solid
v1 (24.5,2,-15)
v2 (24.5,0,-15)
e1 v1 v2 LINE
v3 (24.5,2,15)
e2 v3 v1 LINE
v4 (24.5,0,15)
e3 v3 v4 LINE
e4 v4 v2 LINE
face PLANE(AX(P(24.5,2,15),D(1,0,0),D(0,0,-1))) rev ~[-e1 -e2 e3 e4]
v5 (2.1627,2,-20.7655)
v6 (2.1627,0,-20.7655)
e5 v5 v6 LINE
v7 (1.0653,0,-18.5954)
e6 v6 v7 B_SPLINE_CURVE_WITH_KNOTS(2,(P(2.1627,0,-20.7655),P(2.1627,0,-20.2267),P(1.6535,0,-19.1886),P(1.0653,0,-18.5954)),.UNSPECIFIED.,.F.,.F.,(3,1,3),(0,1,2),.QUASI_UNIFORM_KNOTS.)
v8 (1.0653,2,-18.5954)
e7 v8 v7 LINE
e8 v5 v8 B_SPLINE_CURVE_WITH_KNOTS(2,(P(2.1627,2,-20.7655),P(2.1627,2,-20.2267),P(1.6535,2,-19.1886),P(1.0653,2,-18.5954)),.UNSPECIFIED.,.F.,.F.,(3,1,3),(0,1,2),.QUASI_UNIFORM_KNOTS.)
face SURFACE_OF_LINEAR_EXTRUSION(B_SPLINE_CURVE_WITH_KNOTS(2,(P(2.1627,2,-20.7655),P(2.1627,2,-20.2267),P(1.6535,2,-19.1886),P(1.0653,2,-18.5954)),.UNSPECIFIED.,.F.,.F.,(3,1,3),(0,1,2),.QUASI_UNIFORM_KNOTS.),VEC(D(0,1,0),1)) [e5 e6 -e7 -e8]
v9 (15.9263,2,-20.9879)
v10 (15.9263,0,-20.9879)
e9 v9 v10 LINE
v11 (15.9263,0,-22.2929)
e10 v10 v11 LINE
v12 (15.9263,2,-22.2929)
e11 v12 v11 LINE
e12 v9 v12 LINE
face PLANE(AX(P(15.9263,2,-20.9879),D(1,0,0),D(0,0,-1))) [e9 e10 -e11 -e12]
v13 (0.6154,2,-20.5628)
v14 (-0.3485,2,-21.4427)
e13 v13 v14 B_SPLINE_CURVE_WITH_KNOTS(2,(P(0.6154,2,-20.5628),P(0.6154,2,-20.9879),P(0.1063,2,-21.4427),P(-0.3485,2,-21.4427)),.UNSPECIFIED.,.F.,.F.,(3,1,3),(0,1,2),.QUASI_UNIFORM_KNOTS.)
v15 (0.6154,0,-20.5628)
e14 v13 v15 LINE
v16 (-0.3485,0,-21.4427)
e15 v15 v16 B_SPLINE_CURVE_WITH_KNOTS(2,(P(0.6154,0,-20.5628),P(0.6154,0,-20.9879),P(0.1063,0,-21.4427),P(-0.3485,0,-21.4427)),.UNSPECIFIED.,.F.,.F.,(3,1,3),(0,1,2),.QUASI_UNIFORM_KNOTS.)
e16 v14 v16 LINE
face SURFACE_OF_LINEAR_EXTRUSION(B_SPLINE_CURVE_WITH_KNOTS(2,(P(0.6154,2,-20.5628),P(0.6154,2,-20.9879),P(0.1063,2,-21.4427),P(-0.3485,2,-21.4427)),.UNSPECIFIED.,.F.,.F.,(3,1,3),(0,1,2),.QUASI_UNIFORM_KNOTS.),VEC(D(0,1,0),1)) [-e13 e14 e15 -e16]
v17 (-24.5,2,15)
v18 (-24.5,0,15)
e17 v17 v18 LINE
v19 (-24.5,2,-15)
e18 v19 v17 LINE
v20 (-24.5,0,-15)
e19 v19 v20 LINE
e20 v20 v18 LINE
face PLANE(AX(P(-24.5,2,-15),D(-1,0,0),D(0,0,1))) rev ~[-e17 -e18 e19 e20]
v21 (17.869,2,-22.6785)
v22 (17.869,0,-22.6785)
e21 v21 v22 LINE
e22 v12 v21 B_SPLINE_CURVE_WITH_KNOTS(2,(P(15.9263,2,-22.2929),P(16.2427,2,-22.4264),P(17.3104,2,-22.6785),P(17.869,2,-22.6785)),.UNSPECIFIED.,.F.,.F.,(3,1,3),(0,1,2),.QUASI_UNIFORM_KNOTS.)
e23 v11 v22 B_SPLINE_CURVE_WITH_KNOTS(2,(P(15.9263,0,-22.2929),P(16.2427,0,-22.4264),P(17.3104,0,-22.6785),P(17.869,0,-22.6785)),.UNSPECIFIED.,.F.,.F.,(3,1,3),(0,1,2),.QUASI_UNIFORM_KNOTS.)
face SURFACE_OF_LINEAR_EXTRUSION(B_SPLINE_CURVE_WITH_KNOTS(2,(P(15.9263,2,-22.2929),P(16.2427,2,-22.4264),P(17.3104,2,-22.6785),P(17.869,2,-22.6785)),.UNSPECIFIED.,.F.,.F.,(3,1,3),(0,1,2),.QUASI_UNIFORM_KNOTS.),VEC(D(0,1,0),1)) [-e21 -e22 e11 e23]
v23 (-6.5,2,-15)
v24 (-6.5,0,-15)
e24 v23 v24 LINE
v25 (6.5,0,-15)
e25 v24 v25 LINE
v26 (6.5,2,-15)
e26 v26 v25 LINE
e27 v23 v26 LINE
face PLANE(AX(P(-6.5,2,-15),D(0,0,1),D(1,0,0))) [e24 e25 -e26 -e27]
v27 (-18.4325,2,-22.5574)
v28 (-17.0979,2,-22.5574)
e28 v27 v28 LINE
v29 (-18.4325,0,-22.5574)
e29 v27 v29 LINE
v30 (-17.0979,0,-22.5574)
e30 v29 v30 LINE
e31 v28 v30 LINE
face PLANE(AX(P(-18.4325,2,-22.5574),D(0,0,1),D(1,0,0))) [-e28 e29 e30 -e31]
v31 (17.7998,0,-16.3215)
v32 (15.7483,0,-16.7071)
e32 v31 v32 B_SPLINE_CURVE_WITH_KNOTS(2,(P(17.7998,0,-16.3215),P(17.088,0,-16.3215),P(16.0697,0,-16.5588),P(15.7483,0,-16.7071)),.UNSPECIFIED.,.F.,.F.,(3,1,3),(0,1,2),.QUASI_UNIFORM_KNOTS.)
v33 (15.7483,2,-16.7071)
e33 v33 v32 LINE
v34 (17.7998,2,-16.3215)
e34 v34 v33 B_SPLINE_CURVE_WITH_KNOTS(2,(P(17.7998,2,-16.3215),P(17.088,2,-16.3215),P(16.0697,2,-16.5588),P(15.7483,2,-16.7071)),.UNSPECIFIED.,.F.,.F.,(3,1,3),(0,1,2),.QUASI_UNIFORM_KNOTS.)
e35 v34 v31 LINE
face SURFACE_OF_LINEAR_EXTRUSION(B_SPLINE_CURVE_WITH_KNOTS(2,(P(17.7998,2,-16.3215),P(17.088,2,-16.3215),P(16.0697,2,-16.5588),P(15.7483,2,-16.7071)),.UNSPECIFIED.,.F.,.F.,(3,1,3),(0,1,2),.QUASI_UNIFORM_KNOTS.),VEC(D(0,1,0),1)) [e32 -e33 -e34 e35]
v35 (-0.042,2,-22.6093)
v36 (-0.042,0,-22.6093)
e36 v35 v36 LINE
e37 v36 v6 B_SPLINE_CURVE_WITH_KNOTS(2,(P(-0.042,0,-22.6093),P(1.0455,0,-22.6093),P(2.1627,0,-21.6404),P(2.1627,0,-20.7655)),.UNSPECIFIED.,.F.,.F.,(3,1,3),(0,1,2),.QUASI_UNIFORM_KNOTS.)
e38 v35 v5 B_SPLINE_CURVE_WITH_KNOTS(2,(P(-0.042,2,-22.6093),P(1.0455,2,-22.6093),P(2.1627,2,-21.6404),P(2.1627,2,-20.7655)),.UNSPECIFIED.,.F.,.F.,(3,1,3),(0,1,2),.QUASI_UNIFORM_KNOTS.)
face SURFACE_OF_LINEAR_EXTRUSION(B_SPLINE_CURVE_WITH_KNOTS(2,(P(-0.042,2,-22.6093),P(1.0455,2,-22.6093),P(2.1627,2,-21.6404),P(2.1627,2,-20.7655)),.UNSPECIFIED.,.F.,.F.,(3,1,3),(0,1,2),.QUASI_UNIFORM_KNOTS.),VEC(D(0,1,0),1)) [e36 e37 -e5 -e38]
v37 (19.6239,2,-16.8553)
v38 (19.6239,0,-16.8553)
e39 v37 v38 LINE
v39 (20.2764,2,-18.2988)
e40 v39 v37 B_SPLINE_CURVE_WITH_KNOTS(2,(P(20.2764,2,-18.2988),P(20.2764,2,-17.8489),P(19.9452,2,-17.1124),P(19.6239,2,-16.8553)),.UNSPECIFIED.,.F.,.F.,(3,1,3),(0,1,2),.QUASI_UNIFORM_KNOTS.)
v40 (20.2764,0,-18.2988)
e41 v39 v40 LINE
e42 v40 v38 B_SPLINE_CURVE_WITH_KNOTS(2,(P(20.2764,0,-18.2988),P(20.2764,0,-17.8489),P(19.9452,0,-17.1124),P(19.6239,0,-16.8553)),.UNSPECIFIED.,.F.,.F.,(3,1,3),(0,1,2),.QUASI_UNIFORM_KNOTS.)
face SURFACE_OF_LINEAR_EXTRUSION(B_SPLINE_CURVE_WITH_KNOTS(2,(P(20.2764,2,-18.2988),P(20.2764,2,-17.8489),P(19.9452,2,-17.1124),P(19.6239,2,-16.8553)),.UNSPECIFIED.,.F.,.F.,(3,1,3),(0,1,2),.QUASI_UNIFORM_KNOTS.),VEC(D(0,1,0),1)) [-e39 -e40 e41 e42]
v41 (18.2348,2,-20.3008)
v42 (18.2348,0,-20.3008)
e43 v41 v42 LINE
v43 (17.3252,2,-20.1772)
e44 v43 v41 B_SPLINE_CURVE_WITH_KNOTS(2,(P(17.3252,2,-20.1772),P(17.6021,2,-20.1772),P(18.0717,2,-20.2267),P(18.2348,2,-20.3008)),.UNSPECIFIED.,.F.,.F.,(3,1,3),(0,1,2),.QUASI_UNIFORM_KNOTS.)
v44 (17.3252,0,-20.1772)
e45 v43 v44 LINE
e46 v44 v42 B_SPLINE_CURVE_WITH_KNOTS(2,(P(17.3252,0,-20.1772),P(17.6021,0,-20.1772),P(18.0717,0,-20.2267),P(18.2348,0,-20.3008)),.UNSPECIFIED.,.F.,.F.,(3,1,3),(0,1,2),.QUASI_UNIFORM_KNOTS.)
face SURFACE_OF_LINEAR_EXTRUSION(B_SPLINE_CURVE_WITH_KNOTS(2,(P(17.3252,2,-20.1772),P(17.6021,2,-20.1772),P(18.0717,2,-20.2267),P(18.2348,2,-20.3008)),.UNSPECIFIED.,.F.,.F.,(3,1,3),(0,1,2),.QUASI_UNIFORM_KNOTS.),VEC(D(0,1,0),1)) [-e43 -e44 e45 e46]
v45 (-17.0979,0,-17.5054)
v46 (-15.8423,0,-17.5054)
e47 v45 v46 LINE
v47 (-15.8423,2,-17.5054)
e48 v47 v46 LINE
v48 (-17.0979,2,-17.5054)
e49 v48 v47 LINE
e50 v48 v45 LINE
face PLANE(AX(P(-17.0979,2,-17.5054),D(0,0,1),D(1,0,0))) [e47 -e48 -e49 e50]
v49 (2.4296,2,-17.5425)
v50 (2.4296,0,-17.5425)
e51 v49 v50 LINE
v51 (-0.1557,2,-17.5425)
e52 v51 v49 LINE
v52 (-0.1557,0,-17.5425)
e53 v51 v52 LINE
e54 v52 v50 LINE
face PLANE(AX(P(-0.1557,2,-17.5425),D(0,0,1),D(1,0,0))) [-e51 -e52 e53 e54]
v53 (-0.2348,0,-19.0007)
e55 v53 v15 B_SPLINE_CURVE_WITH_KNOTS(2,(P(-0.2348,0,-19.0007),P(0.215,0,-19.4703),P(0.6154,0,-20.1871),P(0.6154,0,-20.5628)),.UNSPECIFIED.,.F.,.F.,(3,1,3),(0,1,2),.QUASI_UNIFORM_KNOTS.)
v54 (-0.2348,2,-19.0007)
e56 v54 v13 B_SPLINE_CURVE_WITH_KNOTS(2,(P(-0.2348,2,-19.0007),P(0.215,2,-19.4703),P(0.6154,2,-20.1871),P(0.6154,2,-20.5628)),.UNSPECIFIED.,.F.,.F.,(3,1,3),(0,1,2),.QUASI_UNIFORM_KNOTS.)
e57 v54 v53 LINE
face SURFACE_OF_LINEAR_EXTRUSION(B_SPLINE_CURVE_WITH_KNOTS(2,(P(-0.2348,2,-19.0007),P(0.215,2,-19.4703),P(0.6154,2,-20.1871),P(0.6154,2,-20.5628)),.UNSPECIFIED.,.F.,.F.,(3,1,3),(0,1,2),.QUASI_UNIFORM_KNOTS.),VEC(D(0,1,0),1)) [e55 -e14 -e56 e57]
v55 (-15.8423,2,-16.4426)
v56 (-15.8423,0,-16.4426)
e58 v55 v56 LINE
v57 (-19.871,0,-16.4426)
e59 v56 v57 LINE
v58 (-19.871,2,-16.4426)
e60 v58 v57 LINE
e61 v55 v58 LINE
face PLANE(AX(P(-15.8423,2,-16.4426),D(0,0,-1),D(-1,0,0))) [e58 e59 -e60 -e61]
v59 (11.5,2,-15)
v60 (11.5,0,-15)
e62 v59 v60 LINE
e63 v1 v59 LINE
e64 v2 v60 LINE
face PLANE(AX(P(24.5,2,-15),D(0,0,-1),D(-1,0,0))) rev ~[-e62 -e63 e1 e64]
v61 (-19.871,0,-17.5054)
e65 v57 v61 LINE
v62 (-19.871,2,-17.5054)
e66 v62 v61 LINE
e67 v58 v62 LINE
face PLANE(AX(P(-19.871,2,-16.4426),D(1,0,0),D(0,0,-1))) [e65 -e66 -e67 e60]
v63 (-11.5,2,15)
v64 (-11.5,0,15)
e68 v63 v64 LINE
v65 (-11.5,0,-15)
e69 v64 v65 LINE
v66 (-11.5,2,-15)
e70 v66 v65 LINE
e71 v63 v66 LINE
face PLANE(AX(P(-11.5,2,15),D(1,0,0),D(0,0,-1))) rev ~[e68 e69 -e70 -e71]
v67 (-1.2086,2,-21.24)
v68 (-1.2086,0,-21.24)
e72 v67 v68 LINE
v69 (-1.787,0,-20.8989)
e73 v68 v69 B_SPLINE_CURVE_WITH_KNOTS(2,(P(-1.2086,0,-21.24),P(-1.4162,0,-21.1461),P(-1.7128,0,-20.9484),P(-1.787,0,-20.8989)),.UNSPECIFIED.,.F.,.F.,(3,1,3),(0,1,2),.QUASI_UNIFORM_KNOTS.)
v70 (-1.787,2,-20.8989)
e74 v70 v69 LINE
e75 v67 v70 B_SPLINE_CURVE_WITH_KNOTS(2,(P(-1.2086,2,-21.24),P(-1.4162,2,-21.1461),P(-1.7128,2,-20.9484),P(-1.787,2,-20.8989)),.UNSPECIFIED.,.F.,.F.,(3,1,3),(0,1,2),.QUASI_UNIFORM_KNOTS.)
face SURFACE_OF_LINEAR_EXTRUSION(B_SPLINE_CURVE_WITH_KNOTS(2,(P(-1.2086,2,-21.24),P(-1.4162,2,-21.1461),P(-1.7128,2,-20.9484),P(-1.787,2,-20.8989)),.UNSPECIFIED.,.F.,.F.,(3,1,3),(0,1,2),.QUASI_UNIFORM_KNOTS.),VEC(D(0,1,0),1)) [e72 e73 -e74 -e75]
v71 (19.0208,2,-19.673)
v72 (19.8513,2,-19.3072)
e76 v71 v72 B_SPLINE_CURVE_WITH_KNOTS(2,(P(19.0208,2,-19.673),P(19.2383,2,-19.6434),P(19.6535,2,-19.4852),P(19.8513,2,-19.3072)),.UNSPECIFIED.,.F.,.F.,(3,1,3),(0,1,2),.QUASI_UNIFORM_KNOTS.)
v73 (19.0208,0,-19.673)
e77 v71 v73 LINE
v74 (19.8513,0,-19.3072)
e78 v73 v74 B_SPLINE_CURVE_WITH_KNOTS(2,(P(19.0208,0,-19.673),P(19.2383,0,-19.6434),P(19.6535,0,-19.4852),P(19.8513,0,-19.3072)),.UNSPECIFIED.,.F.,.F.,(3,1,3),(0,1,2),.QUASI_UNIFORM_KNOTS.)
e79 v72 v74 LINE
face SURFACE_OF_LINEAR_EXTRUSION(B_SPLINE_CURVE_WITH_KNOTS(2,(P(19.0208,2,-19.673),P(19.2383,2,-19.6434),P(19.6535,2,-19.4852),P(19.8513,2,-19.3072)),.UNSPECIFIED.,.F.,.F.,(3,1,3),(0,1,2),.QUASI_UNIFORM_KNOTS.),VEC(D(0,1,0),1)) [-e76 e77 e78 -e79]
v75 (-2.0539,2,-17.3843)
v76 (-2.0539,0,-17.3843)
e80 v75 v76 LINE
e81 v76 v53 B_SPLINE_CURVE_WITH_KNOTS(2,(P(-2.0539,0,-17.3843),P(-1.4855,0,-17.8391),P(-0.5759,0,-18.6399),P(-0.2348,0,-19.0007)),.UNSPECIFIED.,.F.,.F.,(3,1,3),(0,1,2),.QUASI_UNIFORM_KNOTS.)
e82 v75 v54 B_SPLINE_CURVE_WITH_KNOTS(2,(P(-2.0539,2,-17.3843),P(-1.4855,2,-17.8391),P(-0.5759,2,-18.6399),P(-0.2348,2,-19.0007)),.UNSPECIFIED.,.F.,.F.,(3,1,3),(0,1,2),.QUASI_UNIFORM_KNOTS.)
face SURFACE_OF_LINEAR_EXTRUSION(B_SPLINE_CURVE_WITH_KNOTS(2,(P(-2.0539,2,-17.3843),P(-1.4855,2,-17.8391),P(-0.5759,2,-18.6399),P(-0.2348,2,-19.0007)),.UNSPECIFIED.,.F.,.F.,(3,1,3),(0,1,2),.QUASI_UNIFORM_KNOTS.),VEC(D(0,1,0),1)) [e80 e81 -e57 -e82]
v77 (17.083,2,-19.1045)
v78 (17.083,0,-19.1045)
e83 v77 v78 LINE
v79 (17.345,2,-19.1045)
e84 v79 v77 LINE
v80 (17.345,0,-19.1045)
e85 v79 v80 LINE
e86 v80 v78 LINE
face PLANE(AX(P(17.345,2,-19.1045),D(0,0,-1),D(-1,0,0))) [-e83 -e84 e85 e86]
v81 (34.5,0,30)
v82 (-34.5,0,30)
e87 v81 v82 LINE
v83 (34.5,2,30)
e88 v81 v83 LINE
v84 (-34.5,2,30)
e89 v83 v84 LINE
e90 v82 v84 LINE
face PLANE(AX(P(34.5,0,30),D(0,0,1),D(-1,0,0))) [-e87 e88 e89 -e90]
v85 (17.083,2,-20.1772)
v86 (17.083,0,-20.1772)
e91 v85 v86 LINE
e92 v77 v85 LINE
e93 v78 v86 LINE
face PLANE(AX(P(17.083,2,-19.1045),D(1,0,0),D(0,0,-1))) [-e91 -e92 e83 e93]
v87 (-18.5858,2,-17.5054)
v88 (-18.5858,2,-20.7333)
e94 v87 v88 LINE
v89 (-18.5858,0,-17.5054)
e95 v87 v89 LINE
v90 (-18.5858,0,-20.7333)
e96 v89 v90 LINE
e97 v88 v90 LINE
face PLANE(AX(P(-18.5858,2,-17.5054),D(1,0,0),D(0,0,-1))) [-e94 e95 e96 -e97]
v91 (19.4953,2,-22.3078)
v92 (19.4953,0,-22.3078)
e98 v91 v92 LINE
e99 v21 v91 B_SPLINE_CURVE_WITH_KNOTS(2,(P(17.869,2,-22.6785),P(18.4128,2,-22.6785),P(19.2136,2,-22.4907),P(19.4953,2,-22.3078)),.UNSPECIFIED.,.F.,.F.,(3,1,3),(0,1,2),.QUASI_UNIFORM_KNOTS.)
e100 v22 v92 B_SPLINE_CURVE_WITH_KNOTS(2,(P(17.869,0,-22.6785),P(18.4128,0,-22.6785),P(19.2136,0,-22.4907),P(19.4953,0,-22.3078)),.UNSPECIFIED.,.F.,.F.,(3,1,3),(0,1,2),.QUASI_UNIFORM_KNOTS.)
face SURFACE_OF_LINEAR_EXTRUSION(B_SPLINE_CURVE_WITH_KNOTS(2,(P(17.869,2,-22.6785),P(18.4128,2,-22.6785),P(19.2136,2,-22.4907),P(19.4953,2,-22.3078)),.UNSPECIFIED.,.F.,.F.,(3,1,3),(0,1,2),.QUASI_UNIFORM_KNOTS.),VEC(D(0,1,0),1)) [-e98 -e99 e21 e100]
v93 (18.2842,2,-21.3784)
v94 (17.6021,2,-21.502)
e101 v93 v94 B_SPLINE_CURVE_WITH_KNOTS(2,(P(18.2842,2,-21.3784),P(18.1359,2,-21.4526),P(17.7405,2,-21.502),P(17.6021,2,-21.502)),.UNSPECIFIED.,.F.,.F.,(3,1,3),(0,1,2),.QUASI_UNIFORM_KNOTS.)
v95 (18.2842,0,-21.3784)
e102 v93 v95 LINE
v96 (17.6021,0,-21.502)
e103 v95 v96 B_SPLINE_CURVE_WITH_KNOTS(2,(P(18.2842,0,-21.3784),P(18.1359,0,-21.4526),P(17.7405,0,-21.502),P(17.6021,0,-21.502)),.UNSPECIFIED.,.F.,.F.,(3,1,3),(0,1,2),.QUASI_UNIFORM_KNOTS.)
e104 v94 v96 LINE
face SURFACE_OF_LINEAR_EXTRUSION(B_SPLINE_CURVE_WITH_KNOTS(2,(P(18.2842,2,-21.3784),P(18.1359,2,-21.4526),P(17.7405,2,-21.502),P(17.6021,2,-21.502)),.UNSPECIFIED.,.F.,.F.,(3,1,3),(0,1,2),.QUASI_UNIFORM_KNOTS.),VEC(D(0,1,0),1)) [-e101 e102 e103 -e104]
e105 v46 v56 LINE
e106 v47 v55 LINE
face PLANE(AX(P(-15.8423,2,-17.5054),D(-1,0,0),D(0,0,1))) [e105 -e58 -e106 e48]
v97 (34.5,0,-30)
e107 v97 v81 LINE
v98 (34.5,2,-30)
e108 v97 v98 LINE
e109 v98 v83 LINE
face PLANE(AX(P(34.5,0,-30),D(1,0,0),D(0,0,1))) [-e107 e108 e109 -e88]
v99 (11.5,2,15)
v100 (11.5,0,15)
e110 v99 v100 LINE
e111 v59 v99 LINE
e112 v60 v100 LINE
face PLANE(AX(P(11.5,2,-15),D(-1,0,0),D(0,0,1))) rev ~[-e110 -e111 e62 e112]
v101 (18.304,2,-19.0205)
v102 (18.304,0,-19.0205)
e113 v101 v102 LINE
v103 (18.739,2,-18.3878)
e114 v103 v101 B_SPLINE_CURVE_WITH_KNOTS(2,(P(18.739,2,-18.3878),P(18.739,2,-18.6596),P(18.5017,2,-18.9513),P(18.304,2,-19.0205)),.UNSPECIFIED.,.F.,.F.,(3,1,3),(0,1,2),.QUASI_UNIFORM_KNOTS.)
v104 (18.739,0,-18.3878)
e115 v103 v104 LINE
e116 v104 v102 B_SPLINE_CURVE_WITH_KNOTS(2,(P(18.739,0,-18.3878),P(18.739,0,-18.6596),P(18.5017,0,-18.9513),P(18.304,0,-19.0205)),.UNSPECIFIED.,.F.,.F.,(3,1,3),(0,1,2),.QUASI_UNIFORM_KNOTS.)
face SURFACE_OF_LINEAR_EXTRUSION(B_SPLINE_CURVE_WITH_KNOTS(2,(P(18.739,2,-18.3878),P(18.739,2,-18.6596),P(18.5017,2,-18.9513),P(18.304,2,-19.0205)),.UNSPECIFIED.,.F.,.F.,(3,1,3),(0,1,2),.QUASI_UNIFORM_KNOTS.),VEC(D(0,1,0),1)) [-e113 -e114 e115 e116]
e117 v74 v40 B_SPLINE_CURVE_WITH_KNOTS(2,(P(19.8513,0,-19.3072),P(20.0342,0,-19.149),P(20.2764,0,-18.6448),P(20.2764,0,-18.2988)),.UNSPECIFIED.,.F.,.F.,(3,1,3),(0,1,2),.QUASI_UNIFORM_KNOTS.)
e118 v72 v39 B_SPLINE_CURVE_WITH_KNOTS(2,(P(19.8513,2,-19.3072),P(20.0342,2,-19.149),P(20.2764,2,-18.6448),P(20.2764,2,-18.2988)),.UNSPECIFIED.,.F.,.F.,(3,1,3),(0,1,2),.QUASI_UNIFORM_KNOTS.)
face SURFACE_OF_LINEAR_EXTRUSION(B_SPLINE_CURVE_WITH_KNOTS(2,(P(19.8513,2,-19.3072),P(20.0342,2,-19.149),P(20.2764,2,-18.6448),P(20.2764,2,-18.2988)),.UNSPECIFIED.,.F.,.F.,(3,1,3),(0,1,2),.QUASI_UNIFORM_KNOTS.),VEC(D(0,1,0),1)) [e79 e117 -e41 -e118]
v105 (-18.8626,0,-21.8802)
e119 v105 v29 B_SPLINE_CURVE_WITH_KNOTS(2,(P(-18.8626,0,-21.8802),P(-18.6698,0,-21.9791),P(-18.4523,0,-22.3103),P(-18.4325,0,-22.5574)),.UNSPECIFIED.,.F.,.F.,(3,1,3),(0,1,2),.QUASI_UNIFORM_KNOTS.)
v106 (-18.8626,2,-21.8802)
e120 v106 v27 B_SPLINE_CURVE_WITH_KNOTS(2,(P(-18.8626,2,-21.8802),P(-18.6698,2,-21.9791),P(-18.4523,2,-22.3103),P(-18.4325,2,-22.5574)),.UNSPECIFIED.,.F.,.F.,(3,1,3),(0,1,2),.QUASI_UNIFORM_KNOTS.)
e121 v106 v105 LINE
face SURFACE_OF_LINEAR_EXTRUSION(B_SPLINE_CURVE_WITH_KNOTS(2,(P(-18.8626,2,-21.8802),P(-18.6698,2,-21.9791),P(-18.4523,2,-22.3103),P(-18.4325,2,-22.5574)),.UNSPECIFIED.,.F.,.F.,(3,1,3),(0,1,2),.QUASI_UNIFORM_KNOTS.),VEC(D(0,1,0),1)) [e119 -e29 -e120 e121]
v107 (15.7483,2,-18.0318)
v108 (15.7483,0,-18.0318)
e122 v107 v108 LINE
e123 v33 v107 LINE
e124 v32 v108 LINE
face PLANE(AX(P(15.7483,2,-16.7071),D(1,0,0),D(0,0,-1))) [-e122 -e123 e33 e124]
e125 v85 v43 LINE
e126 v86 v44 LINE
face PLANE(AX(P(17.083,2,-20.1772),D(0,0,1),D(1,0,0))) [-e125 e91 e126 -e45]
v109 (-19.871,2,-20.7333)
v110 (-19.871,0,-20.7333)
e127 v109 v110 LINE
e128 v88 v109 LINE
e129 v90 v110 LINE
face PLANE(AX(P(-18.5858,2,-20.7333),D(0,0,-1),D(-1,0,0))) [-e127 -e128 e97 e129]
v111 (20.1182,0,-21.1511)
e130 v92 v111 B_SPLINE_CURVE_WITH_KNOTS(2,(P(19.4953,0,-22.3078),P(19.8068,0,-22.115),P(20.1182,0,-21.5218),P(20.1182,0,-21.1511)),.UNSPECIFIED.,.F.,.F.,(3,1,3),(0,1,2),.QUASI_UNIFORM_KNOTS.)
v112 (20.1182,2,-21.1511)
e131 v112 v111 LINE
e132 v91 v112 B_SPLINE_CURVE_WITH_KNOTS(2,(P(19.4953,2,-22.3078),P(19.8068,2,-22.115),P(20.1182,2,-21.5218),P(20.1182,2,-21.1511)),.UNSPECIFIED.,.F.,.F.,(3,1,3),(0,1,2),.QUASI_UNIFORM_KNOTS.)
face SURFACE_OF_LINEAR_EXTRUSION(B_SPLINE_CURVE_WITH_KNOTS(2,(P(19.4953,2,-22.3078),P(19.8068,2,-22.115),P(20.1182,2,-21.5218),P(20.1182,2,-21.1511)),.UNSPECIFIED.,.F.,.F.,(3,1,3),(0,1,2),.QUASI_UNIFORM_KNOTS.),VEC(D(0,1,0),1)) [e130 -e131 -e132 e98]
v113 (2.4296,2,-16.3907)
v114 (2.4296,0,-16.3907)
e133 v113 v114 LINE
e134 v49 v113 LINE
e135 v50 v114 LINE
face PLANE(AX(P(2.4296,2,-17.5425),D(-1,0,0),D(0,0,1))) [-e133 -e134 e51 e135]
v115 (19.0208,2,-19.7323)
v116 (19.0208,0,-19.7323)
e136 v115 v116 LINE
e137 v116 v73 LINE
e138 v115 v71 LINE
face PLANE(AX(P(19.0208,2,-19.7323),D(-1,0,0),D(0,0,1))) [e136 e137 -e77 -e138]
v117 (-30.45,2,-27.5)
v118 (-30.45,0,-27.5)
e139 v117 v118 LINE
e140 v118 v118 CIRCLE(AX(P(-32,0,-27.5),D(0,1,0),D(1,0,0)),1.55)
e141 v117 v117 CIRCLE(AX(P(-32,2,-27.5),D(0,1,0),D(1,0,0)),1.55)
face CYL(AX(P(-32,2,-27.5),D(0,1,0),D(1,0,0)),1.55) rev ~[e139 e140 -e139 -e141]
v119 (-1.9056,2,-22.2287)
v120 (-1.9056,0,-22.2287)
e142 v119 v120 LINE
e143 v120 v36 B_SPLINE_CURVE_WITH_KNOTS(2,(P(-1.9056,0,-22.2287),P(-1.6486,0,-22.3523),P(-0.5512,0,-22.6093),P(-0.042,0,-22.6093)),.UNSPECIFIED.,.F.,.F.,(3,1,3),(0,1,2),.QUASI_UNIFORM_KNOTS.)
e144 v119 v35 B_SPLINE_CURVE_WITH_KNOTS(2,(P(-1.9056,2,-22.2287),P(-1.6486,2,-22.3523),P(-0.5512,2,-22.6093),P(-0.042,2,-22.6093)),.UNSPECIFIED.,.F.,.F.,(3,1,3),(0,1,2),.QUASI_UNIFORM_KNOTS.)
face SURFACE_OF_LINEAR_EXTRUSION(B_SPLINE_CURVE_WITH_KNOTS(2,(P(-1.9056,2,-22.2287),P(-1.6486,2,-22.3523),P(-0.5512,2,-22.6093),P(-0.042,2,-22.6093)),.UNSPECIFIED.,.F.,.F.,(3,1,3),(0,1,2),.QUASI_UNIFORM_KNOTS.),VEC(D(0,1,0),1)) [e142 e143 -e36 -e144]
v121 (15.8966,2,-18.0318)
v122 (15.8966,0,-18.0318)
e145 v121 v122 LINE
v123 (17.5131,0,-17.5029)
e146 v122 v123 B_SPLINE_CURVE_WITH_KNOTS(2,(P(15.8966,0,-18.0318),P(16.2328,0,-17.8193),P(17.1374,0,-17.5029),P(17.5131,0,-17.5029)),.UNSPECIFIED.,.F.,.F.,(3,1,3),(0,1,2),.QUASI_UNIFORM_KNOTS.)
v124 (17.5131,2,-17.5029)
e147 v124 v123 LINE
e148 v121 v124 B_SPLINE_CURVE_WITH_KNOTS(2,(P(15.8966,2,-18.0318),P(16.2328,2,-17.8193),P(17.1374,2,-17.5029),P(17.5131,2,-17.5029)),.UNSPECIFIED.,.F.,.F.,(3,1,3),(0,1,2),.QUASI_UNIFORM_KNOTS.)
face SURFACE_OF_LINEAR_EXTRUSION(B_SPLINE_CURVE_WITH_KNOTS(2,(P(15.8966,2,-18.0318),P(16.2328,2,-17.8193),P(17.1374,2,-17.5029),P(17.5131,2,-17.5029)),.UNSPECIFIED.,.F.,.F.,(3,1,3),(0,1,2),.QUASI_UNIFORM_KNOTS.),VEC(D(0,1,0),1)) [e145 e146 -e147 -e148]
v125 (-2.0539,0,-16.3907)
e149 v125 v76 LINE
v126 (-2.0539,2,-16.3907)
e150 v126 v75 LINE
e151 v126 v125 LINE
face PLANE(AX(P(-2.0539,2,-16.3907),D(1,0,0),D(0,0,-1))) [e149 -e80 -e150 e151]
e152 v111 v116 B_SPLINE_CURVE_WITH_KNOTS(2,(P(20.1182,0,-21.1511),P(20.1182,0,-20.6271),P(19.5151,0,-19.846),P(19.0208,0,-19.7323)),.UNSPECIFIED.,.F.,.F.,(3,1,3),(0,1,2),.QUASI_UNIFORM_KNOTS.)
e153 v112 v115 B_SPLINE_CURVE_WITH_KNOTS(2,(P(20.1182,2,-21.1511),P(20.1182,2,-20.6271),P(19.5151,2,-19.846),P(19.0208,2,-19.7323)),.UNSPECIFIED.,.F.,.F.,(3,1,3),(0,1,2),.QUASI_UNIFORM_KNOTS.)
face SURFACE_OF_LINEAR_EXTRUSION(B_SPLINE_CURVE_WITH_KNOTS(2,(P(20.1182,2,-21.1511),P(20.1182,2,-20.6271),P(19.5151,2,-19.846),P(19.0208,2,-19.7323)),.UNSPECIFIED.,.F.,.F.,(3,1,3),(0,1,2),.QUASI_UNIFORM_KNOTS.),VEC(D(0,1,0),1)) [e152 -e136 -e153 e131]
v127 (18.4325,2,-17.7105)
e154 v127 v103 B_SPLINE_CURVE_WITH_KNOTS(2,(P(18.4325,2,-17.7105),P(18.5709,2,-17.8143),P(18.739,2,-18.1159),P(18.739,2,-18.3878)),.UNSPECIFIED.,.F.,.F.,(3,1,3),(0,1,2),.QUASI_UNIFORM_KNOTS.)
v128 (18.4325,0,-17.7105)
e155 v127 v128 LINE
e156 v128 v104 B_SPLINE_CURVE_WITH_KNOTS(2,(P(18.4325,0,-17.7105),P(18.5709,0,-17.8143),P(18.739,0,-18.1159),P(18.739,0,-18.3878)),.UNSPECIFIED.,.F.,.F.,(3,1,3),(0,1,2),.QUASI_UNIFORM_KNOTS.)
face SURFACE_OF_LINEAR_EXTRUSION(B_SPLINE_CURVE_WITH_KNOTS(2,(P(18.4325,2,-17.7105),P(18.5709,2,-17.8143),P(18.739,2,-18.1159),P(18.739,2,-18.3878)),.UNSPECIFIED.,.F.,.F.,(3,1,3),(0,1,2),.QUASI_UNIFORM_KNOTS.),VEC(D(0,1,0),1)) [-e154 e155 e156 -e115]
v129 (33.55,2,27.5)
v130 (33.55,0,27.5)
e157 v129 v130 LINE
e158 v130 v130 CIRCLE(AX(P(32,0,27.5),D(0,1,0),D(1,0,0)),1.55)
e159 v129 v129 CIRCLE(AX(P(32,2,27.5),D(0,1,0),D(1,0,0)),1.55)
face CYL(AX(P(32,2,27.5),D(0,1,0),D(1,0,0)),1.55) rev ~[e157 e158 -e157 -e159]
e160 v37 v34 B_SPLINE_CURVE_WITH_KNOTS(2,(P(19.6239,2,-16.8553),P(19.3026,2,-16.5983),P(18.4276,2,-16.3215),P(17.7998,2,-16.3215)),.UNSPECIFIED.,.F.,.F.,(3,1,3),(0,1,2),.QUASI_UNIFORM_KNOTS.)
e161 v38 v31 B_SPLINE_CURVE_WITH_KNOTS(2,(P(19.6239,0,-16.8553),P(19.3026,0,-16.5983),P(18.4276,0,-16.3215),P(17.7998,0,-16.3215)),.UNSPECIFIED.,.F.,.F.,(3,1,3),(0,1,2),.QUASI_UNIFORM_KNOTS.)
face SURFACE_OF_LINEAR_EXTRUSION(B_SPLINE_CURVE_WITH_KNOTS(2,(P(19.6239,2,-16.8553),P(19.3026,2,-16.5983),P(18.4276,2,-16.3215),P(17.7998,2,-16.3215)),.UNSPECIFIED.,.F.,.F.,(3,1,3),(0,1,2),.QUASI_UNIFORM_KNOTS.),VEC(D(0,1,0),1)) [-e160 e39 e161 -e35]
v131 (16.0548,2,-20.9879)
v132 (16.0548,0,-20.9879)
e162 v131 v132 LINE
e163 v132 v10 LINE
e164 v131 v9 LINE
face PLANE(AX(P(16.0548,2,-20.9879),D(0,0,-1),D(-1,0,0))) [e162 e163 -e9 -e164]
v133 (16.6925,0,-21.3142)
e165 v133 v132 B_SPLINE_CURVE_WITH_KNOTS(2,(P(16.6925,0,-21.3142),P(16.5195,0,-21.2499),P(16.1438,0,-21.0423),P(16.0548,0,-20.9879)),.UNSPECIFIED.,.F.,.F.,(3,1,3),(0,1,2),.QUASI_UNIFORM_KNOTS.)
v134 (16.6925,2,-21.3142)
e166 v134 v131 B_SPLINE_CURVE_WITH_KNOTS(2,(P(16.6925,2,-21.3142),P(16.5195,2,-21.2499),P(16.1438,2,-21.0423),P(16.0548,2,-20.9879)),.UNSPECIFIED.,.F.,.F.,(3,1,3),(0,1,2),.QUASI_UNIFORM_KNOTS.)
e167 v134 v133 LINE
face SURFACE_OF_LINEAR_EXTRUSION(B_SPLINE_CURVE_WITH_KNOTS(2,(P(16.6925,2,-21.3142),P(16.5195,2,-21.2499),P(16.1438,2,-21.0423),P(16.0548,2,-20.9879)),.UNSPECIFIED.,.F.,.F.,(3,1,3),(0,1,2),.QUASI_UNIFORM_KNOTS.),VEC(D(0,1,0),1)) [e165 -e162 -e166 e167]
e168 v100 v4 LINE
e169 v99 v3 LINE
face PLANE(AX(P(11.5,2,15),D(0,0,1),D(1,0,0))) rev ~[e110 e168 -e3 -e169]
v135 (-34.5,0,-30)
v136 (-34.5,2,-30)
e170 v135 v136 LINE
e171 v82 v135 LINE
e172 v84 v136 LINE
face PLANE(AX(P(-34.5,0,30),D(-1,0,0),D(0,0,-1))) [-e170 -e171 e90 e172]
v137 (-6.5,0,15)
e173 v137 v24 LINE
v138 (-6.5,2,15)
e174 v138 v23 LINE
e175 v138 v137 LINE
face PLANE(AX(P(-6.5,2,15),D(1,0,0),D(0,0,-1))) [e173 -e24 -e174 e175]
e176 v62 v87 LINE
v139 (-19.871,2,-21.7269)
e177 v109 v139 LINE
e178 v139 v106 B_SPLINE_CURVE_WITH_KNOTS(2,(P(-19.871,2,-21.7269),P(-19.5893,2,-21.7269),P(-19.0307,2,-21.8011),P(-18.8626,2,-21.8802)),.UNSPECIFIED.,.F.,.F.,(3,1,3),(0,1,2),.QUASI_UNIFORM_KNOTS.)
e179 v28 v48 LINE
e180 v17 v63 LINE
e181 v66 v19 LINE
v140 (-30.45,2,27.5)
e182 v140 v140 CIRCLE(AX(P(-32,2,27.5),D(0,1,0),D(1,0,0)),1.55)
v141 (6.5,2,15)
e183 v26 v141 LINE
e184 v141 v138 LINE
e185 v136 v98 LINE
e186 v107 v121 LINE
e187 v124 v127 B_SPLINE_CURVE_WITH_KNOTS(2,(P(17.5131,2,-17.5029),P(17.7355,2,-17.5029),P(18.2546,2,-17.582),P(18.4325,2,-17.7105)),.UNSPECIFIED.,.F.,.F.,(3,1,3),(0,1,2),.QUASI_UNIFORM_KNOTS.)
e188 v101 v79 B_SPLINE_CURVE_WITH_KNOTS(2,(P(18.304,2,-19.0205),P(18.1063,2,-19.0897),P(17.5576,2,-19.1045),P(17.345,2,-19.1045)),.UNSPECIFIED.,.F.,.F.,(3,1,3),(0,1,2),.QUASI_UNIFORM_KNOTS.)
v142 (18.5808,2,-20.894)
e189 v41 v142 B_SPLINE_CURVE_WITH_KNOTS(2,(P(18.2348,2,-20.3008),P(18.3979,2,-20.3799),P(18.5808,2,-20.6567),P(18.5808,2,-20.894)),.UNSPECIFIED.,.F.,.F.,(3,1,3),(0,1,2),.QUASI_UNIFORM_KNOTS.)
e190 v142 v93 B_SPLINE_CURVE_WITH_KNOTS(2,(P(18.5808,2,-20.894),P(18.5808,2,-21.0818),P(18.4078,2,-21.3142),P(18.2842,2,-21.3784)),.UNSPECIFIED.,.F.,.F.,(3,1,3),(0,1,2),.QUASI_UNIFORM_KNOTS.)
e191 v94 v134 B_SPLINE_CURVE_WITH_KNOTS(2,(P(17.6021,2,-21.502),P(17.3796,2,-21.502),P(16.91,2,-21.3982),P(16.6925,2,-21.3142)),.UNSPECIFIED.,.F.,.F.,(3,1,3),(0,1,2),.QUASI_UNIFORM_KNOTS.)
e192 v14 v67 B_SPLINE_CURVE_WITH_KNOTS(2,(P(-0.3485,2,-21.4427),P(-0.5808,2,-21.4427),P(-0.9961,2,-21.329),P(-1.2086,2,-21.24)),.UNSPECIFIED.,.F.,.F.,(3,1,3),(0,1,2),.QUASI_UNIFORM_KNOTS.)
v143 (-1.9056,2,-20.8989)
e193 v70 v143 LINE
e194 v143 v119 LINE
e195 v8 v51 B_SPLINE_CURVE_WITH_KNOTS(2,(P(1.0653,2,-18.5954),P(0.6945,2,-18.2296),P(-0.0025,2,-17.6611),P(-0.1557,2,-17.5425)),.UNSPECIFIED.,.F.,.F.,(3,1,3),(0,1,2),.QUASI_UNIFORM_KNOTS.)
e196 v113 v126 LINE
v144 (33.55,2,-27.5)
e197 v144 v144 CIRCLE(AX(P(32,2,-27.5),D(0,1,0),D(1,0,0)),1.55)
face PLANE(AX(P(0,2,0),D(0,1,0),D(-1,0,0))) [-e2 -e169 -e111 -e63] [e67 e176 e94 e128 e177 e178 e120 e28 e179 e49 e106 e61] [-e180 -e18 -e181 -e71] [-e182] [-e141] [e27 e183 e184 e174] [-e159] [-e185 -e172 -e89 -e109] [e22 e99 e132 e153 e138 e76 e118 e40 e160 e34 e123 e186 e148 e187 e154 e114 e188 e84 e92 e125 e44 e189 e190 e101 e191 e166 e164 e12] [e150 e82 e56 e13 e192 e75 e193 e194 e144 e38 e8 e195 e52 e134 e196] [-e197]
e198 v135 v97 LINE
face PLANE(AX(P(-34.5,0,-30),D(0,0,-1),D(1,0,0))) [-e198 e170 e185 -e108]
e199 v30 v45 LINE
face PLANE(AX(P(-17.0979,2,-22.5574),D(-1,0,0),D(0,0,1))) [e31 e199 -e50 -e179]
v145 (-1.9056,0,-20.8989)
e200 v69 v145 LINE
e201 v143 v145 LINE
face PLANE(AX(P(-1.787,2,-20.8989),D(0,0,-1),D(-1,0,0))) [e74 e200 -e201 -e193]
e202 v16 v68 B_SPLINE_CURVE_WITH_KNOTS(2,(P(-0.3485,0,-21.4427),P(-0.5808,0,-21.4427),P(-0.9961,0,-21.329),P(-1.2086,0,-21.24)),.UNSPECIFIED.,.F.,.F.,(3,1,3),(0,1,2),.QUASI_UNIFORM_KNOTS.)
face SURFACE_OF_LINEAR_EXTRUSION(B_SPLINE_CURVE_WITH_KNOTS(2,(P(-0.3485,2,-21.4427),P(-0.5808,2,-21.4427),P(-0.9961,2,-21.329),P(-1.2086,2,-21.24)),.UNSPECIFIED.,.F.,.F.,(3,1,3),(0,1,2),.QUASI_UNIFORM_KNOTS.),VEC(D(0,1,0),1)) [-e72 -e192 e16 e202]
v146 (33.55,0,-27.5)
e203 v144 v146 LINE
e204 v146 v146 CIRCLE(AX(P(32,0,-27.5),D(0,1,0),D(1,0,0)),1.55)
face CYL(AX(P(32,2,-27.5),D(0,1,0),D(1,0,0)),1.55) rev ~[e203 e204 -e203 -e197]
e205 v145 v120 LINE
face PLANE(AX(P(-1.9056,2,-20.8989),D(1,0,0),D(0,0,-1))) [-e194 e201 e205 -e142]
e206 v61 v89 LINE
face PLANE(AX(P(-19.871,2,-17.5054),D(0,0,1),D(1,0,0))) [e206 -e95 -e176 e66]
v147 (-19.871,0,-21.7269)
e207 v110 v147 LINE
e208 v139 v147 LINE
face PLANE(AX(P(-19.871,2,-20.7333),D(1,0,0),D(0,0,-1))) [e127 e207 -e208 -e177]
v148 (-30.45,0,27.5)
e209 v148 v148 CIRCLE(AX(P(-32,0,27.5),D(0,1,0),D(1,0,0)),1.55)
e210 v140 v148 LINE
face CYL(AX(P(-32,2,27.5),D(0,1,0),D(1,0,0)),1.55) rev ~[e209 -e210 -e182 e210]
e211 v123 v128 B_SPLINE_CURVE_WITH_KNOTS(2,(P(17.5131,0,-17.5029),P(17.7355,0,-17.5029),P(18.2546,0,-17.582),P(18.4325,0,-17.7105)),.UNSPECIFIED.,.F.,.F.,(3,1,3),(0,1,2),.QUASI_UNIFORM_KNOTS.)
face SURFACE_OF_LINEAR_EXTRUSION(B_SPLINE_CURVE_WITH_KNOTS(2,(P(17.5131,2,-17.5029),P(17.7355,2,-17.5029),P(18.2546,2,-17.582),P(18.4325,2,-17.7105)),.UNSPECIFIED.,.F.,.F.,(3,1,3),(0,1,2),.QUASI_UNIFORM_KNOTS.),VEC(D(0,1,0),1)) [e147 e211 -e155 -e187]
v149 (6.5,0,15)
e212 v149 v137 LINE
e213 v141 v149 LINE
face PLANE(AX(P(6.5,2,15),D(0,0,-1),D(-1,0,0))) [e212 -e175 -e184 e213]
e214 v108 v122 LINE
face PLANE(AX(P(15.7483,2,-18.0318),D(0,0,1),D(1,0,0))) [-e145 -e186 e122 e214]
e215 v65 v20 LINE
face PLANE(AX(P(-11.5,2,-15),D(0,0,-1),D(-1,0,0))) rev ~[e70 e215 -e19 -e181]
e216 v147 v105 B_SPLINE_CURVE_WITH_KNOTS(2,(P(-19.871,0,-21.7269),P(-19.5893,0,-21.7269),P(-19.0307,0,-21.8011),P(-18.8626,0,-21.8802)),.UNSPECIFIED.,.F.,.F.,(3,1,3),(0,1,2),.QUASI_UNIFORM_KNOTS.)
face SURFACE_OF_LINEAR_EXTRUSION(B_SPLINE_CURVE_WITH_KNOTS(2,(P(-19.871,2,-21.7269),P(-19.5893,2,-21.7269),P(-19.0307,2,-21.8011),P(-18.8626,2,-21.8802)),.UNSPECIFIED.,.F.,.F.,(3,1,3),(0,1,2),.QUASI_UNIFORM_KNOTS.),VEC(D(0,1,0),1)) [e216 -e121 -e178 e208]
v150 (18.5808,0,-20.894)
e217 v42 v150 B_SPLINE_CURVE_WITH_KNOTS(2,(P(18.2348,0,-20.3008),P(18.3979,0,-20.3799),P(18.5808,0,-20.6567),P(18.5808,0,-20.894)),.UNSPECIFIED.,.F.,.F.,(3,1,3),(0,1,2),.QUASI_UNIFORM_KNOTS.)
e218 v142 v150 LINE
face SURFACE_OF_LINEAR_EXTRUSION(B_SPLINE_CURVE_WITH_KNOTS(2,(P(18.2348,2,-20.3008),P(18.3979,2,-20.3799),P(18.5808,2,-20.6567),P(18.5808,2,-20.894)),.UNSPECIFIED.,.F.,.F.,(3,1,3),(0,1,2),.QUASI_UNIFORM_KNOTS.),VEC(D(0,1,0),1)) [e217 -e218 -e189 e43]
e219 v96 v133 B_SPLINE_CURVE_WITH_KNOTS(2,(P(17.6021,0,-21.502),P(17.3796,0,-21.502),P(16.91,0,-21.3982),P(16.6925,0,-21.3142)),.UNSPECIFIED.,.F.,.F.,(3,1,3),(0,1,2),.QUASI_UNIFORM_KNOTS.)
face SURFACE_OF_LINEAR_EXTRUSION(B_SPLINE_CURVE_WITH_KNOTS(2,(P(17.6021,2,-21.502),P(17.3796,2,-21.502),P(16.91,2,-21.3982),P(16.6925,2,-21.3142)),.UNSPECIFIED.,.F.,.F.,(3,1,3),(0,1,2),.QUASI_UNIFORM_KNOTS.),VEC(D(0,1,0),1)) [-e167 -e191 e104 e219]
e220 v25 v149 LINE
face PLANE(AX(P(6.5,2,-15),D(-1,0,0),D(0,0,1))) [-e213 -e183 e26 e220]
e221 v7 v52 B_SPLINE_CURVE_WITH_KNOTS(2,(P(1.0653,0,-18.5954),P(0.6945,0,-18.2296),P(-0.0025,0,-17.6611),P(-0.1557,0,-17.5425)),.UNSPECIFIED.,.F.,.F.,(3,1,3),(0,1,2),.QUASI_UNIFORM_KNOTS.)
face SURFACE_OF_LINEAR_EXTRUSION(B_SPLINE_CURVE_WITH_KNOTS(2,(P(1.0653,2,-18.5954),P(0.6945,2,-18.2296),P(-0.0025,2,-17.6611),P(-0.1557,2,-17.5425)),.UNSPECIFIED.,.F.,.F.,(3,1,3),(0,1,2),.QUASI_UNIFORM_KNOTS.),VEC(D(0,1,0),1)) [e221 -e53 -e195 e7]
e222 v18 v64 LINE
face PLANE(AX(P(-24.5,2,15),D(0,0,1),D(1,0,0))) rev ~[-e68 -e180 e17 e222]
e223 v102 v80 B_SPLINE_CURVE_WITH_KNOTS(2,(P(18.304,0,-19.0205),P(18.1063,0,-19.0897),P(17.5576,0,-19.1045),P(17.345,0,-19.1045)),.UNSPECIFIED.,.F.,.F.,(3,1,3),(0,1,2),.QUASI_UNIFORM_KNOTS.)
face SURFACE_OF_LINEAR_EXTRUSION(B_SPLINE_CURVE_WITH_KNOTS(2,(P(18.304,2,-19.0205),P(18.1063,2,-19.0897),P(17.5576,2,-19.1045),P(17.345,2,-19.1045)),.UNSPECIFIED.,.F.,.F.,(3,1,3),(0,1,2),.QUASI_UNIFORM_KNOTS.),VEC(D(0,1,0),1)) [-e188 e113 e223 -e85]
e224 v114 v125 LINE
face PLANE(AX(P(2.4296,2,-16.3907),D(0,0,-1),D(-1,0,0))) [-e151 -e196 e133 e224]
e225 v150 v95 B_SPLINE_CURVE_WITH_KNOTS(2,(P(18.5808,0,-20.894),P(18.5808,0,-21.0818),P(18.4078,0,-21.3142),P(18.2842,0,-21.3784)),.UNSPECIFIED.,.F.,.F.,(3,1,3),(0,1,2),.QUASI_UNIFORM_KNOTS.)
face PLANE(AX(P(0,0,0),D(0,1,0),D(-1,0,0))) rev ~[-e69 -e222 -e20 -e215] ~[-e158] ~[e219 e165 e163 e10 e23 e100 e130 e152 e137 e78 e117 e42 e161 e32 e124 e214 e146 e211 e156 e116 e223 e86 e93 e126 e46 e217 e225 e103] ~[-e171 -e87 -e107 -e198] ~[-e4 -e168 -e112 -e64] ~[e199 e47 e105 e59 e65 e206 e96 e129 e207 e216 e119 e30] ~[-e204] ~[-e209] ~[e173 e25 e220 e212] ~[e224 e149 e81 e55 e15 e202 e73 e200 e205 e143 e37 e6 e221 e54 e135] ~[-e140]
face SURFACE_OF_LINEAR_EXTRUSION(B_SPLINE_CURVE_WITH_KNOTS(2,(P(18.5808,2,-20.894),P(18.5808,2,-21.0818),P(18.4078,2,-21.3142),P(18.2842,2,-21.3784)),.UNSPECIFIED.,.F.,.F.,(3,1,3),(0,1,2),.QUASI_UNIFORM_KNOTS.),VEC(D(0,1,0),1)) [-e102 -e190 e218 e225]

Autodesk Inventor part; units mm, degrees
ref_plane "YZ Plane" through (0, 0, 0) normal (1, 0, 0) x (0, 1, 0)
ref_plane "XZ Plane" through (0, 0, 0) normal (0, 1, 0) x (-1, 0, 0)
sketch "Sketch1" plane through (0, 0, 0) normal (0, 1, 0) x (-1, 0, 0)
  line L0 (-34.5, 30) -> (34.5, 30)
  line L1 (34.5, 30) -> (34.5, -30)
  line L2 (34.5, -30) -> (-34.5, -30)
  line L3 (-34.5, -30) -> (-34.5, 30)
  line L4 (-34.5, 30) -> (34.5, -30) construction
  line L5 (34.5, 30) -> (-34.5, -30) construction
  point P0 (0, 0)
  dimension "d0" = 69
  dimension "d1" = 60
extrude "Extrusion1" add sketch "Sketch1" along normal blind 2
sketch "Sketch2" plane through (0, 2, 0) normal (0, 1, 0) x (1, 0, 0)
  line L0 (6.5, -15) -> (-6.5, -15)
  line L1 (-6.5, -15) -> (-6.5, 15)
  line L2 (-6.5, 15) -> (6.5, 15)
  line L3 (6.5, 15) -> (6.5, -15)
  line L4 (6.5, -15) -> (-6.5, 15) construction
  line L5 (-6.5, -15) -> (6.5, 15) construction
  line L6 (-24.5, -15) -> (-11.5, -15)
  line L7 (-11.5, -15) -> (-11.5, 15)
  line L8 (-11.5, 15) -> (-24.5, 15)
  line L9 (-24.5, 15) -> (-24.5, -15)
  line L10 (-24.5, -15) -> (-11.5, 15) construction
  line L11 (-11.5, -15) -> (-24.5, 15) construction
  line L12 (-24.5, 23) -> (-11.5, 23) construction
  line L13 (-11.5, 23) -> (-11.5, 16) construction
  line L14 (-11.5, 16) -> (-24.5, 16) construction
  line L15 (-24.5, 16) -> (-24.5, 23) construction
  line L16 (-6.5, 23) -> (6.5, 23) construction
  line L17 (6.5, 23) -> (6.5, 16) construction
  line L18 (6.5, 16) -> (-6.5, 16) construction
  line L19 (-6.5, 16) -> (-6.5, 23) construction
  line L20 (11.5, -15) -> (24.5, -15)
  line L21 (24.5, -15) -> (24.5, 15)
  line L22 (24.5, 15) -> (11.5, 15)
  line L23 (11.5, 15) -> (11.5, -15)
  line L24 (11.5, -15) -> (24.5, 15) construction
  line L25 (24.5, -15) -> (11.5, 15) construction
  line L26 (11.5, 23) -> (24.5, 23) construction
  line L27 (24.5, 23) -> (24.5, 16) construction
  line L28 (24.5, 16) -> (11.5, 16) construction
  line L29 (11.5, 16) -> (11.5, 23) construction
  circle A0 centre (32, -27.5) radius 1.55
  line L30 (-34.5, -30) -> (34.5, -30) projected
  line L31 (34.5, -30) -> (34.5, 30) projected
  circle A1 centre (32, 27.5) radius 1.55
  circle A2 centre (-32, 27.5) radius 1.55
  circle A3 centre (-32, -27.5) radius 1.55
  line L32 (34.5, 30) -> (-34.5, 30) projected
  line L33 (-34.5, 30) -> (-34.5, -30) projected
  line L34 (-15.8423, 16.4426) -> (-19.871, 16.4426)
  line L35 (-19.871, 16.4426) -> (-19.871, 17.5054)
  line L36 (-19.871, 17.5054) -> (-18.5858, 17.5054)
  line L37 (-18.5858, 17.5054) -> (-18.5858, 20.7333)
  line L38 (-18.5858, 20.7333) -> (-19.871, 20.7333)
  line L39 (-19.871, 20.7333) -> (-19.871, 21.7269)
  spline S0 degree 2 poles (-19.871, 21.7269) (-19.5893, 21.7269) (-19.0307, 21.8011) (-18.8626, 21.8802) knots 0 0 0 1 2 2 2
  spline S1 degree 2 poles (-18.8626, 21.8802) (-18.6698, 21.9791) (-18.4523, 22.3103) (-18.4325, 22.5574) knots 0 0 0 1 2 2 2
  line L40 (-18.4325, 22.5574) -> (-17.0979, 22.5574)
  line L41 (-17.0979, 22.5574) -> (-17.0979, 17.5054)
  line L42 (-17.0979, 17.5054) -> (-15.8423, 17.5054)
  line L43 (-15.8423, 17.5054) -> (-15.8423, 16.4426)
  line L44 (2.4296, 16.3907) -> (-2.0539, 16.3907)
  line L45 (-2.0539, 16.3907) -> (-2.0539, 17.3843)
  spline S2 degree 2 poles (-2.0539, 17.3843) (-1.4855, 17.8391) (-0.5759, 18.6399) (-0.2348, 19.0007) knots 0 0 0 1 2 2 2
  spline S3 degree 2 poles (-0.2348, 19.0007) (0.215, 19.4703) (0.6154, 20.1871) (0.6154, 20.5628) knots 0 0 0 1 2 2 2
  spline S4 degree 2 poles (0.6154, 20.5628) (0.6154, 20.9879) (0.1063, 21.4427) (-0.3485, 21.4427) knots 0 0 0 1 2 2 2
  spline S5 degree 2 poles (-0.3485, 21.4427) (-0.5808, 21.4427) (-0.9961, 21.329) (-1.2086, 21.24) knots 0 0 0 1 2 2 2
  spline S6 degree 2 poles (-1.2086, 21.24) (-1.4162, 21.1461) (-1.7128, 20.9484) (-1.787, 20.8989) knots 0 0 0 1 2 2 2
  line L46 (-1.787, 20.8989) -> (-1.9056, 20.8989)
  line L47 (-1.9056, 20.8989) -> (-1.9056, 22.2287)
  spline S7 degree 2 poles (-1.9056, 22.2287) (-1.6486, 22.3523) (-0.5512, 22.6093) (-0.042, 22.6093) knots 0 0 0 1 2 2 2
  spline S8 degree 2 poles (-0.042, 22.6093) (1.0455, 22.6093) (2.1627, 21.6404) (2.1627, 20.7655) knots 0 0 0 1 2 2 2
  spline S9 degree 2 poles (2.1627, 20.7655) (2.1627, 20.2267) (1.6535, 19.1886) (1.0653, 18.5954) knots 0 0 0 1 2 2 2
  spline S10 degree 2 poles (1.0653, 18.5954) (0.6945, 18.2296) (-0.0025, 17.6611) (-0.1557, 17.5425) knots 0 0 0 1 2 2 2
  line L48 (-0.1557, 17.5425) -> (2.4296, 17.5425)
  line L49 (2.4296, 17.5425) -> (2.4296, 16.3907)
  spline S11 degree 2 poles (20.2764, 18.2988) (20.2764, 17.8489) (19.9452, 17.1124) (19.6239, 16.8553) knots 0 0 0 1 2 2 2
  spline S12 degree 2 poles (19.6239, 16.8553) (19.3026, 16.5983) (18.4276, 16.3215) (17.7998, 16.3215) knots 0 0 0 1 2 2 2
  spline S13 degree 2 poles (17.7998, 16.3215) (17.088, 16.3215) (16.0697, 16.5588) (15.7483, 16.7071) knots 0 0 0 1 2 2 2
  line L50 (15.7483, 16.7071) -> (15.7483, 18.0318)
  line L51 (15.7483, 18.0318) -> (15.8966, 18.0318)
  spline S14 degree 2 poles (15.8966, 18.0318) (16.2328, 17.8193) (17.1374, 17.5029) (17.5131, 17.5029) knots 0 0 0 1 2 2 2
  spline S15 degree 2 poles (17.5131, 17.5029) (17.7355, 17.5029) (18.2546, 17.582) (18.4325, 17.7105) knots 0 0 0 1 2 2 2
  spline S16 degree 2 poles (18.4325, 17.7105) (18.5709, 17.8143) (18.739, 18.1159) (18.739, 18.3878) knots 0 0 0 1 2 2 2
  spline S17 degree 2 poles (18.739, 18.3878) (18.739, 18.6596) (18.5017, 18.9513) (18.304, 19.0205) knots 0 0 0 1 2 2 2
  spline S18 degree 2 poles (18.304, 19.0205) (18.1063, 19.0897) (17.5576, 19.1045) (17.345, 19.1045) knots 0 0 0 1 2 2 2
  line L52 (17.345, 19.1045) -> (17.083, 19.1045)
  line L53 (17.083, 19.1045) -> (17.083, 20.1772)
  line L54 (17.083, 20.1772) -> (17.3252, 20.1772)
  spline S19 degree 2 poles (17.3252, 20.1772) (17.6021, 20.1772) (18.0717, 20.2267) (18.2348, 20.3008) knots 0 0 0 1 2 2 2
  spline S20 degree 2 poles (18.2348, 20.3008) (18.3979, 20.3799) (18.5808, 20.6567) (18.5808, 20.894) knots 0 0 0 1 2 2 2
  spline S21 degree 2 poles (18.5808, 20.894) (18.5808, 21.0818) (18.4078, 21.3142) (18.2842, 21.3784) knots 0 0 0 1 2 2 2
  spline S22 degree 2 poles (18.2842, 21.3784) (18.1359, 21.4526) (17.7405, 21.502) (17.6021, 21.502) knots 0 0 0 1 2 2 2
  spline S23 degree 2 poles (17.6021, 21.502) (17.3796, 21.502) (16.91, 21.3982) (16.6925, 21.3142) knots 0 0 0 1 2 2 2
  spline S24 degree 2 poles (16.6925, 21.3142) (16.5195, 21.2499) (16.1438, 21.0423) (16.0548, 20.9879) knots 0 0 0 1 2 2 2
  line L55 (16.0548, 20.9879) -> (15.9263, 20.9879)
  line L56 (15.9263, 20.9879) -> (15.9263, 22.2929)
  spline S25 degree 2 poles (15.9263, 22.2929) (16.2427, 22.4264) (17.3104, 22.6785) (17.869, 22.6785) knots 0 0 0 1 2 2 2
  spline S26 degree 2 poles (17.869, 22.6785) (18.4128, 22.6785) (19.2136, 22.4907) (19.4953, 22.3078) knots 0 0 0 1 2 2 2
  spline S27 degree 2 poles (19.4953, 22.3078) (19.8068, 22.115) (20.1182, 21.5218) (20.1182, 21.1511) knots 0 0 0 1 2 2 2
  spline S28 degree 2 poles (20.1182, 21.1511) (20.1182, 20.6271) (19.5151, 19.846) (19.0208, 19.7323) knots 0 0 0 1 2 2 2
  line L57 (19.0208, 19.7323) -> (19.0208, 19.673)
  spline S29 degree 2 poles (19.0208, 19.673) (19.2383, 19.6434) (19.6535, 19.4852) (19.8513, 19.3072) knots 0 0 0 1 2 2 2
  spline S30 degree 2 poles (19.8513, 19.3072) (20.0342, 19.149) (20.2764, 18.6448) (20.2764, 18.2988) knots 0 0 0 1 2 2 2
  point P0 (0, 0)
  point P1 (-18, 0)
  point P2 (18, 0)
  dimension "d4" = 13
  dimension "d5" = 30
  dimension "d8" = 5
  dimension "d9" = 1
  dimension "d10" = 8
  dimension "d13" = 5
  dimension "d15" = 3.1
  dimension "d16" = 2.5
  dimension "d17" = 2.5
  dimension "d18" = 2.5
  dimension "d19" = 2.5
extrude "Extrusion2" cut sketch "Sketch2" against normal blind 2 contours L0 L1 L2 L3 | L9 L8 L7 L6 | L23 L22 L21 L20 | A0 | A1 | A2 | A3 | L34 L35 L36 L37 L38 L39 S0 S1 L40 L41 L42 L43 | L44 L45 S2 S3 S4 S5 S6 L46 L47 S7 S8 S9 S10 L48 L49 | S11 S12 S13 L50 L51 S14 S15 S16 S17 S18 L52 L53 L54 S19 S20 S21 S22 S23 S24 L55 L56 S25 S26 S27 S28 L57 S29 S30
ref_plane "Work Plane2" through (0, 0, 30) normal (1, 0, 0) x (0, 0, -1)
equation "\"d4\" = switch_len_at_clip"
equation "\"d5\" = switch_width_at_clip"
equation "\"switch_len_at_clip\" = 13"
equation "\"switch_width_at_clip\" = 30"
equation "\"pannel_height\" = 1"
properties part number "panel_switches"
